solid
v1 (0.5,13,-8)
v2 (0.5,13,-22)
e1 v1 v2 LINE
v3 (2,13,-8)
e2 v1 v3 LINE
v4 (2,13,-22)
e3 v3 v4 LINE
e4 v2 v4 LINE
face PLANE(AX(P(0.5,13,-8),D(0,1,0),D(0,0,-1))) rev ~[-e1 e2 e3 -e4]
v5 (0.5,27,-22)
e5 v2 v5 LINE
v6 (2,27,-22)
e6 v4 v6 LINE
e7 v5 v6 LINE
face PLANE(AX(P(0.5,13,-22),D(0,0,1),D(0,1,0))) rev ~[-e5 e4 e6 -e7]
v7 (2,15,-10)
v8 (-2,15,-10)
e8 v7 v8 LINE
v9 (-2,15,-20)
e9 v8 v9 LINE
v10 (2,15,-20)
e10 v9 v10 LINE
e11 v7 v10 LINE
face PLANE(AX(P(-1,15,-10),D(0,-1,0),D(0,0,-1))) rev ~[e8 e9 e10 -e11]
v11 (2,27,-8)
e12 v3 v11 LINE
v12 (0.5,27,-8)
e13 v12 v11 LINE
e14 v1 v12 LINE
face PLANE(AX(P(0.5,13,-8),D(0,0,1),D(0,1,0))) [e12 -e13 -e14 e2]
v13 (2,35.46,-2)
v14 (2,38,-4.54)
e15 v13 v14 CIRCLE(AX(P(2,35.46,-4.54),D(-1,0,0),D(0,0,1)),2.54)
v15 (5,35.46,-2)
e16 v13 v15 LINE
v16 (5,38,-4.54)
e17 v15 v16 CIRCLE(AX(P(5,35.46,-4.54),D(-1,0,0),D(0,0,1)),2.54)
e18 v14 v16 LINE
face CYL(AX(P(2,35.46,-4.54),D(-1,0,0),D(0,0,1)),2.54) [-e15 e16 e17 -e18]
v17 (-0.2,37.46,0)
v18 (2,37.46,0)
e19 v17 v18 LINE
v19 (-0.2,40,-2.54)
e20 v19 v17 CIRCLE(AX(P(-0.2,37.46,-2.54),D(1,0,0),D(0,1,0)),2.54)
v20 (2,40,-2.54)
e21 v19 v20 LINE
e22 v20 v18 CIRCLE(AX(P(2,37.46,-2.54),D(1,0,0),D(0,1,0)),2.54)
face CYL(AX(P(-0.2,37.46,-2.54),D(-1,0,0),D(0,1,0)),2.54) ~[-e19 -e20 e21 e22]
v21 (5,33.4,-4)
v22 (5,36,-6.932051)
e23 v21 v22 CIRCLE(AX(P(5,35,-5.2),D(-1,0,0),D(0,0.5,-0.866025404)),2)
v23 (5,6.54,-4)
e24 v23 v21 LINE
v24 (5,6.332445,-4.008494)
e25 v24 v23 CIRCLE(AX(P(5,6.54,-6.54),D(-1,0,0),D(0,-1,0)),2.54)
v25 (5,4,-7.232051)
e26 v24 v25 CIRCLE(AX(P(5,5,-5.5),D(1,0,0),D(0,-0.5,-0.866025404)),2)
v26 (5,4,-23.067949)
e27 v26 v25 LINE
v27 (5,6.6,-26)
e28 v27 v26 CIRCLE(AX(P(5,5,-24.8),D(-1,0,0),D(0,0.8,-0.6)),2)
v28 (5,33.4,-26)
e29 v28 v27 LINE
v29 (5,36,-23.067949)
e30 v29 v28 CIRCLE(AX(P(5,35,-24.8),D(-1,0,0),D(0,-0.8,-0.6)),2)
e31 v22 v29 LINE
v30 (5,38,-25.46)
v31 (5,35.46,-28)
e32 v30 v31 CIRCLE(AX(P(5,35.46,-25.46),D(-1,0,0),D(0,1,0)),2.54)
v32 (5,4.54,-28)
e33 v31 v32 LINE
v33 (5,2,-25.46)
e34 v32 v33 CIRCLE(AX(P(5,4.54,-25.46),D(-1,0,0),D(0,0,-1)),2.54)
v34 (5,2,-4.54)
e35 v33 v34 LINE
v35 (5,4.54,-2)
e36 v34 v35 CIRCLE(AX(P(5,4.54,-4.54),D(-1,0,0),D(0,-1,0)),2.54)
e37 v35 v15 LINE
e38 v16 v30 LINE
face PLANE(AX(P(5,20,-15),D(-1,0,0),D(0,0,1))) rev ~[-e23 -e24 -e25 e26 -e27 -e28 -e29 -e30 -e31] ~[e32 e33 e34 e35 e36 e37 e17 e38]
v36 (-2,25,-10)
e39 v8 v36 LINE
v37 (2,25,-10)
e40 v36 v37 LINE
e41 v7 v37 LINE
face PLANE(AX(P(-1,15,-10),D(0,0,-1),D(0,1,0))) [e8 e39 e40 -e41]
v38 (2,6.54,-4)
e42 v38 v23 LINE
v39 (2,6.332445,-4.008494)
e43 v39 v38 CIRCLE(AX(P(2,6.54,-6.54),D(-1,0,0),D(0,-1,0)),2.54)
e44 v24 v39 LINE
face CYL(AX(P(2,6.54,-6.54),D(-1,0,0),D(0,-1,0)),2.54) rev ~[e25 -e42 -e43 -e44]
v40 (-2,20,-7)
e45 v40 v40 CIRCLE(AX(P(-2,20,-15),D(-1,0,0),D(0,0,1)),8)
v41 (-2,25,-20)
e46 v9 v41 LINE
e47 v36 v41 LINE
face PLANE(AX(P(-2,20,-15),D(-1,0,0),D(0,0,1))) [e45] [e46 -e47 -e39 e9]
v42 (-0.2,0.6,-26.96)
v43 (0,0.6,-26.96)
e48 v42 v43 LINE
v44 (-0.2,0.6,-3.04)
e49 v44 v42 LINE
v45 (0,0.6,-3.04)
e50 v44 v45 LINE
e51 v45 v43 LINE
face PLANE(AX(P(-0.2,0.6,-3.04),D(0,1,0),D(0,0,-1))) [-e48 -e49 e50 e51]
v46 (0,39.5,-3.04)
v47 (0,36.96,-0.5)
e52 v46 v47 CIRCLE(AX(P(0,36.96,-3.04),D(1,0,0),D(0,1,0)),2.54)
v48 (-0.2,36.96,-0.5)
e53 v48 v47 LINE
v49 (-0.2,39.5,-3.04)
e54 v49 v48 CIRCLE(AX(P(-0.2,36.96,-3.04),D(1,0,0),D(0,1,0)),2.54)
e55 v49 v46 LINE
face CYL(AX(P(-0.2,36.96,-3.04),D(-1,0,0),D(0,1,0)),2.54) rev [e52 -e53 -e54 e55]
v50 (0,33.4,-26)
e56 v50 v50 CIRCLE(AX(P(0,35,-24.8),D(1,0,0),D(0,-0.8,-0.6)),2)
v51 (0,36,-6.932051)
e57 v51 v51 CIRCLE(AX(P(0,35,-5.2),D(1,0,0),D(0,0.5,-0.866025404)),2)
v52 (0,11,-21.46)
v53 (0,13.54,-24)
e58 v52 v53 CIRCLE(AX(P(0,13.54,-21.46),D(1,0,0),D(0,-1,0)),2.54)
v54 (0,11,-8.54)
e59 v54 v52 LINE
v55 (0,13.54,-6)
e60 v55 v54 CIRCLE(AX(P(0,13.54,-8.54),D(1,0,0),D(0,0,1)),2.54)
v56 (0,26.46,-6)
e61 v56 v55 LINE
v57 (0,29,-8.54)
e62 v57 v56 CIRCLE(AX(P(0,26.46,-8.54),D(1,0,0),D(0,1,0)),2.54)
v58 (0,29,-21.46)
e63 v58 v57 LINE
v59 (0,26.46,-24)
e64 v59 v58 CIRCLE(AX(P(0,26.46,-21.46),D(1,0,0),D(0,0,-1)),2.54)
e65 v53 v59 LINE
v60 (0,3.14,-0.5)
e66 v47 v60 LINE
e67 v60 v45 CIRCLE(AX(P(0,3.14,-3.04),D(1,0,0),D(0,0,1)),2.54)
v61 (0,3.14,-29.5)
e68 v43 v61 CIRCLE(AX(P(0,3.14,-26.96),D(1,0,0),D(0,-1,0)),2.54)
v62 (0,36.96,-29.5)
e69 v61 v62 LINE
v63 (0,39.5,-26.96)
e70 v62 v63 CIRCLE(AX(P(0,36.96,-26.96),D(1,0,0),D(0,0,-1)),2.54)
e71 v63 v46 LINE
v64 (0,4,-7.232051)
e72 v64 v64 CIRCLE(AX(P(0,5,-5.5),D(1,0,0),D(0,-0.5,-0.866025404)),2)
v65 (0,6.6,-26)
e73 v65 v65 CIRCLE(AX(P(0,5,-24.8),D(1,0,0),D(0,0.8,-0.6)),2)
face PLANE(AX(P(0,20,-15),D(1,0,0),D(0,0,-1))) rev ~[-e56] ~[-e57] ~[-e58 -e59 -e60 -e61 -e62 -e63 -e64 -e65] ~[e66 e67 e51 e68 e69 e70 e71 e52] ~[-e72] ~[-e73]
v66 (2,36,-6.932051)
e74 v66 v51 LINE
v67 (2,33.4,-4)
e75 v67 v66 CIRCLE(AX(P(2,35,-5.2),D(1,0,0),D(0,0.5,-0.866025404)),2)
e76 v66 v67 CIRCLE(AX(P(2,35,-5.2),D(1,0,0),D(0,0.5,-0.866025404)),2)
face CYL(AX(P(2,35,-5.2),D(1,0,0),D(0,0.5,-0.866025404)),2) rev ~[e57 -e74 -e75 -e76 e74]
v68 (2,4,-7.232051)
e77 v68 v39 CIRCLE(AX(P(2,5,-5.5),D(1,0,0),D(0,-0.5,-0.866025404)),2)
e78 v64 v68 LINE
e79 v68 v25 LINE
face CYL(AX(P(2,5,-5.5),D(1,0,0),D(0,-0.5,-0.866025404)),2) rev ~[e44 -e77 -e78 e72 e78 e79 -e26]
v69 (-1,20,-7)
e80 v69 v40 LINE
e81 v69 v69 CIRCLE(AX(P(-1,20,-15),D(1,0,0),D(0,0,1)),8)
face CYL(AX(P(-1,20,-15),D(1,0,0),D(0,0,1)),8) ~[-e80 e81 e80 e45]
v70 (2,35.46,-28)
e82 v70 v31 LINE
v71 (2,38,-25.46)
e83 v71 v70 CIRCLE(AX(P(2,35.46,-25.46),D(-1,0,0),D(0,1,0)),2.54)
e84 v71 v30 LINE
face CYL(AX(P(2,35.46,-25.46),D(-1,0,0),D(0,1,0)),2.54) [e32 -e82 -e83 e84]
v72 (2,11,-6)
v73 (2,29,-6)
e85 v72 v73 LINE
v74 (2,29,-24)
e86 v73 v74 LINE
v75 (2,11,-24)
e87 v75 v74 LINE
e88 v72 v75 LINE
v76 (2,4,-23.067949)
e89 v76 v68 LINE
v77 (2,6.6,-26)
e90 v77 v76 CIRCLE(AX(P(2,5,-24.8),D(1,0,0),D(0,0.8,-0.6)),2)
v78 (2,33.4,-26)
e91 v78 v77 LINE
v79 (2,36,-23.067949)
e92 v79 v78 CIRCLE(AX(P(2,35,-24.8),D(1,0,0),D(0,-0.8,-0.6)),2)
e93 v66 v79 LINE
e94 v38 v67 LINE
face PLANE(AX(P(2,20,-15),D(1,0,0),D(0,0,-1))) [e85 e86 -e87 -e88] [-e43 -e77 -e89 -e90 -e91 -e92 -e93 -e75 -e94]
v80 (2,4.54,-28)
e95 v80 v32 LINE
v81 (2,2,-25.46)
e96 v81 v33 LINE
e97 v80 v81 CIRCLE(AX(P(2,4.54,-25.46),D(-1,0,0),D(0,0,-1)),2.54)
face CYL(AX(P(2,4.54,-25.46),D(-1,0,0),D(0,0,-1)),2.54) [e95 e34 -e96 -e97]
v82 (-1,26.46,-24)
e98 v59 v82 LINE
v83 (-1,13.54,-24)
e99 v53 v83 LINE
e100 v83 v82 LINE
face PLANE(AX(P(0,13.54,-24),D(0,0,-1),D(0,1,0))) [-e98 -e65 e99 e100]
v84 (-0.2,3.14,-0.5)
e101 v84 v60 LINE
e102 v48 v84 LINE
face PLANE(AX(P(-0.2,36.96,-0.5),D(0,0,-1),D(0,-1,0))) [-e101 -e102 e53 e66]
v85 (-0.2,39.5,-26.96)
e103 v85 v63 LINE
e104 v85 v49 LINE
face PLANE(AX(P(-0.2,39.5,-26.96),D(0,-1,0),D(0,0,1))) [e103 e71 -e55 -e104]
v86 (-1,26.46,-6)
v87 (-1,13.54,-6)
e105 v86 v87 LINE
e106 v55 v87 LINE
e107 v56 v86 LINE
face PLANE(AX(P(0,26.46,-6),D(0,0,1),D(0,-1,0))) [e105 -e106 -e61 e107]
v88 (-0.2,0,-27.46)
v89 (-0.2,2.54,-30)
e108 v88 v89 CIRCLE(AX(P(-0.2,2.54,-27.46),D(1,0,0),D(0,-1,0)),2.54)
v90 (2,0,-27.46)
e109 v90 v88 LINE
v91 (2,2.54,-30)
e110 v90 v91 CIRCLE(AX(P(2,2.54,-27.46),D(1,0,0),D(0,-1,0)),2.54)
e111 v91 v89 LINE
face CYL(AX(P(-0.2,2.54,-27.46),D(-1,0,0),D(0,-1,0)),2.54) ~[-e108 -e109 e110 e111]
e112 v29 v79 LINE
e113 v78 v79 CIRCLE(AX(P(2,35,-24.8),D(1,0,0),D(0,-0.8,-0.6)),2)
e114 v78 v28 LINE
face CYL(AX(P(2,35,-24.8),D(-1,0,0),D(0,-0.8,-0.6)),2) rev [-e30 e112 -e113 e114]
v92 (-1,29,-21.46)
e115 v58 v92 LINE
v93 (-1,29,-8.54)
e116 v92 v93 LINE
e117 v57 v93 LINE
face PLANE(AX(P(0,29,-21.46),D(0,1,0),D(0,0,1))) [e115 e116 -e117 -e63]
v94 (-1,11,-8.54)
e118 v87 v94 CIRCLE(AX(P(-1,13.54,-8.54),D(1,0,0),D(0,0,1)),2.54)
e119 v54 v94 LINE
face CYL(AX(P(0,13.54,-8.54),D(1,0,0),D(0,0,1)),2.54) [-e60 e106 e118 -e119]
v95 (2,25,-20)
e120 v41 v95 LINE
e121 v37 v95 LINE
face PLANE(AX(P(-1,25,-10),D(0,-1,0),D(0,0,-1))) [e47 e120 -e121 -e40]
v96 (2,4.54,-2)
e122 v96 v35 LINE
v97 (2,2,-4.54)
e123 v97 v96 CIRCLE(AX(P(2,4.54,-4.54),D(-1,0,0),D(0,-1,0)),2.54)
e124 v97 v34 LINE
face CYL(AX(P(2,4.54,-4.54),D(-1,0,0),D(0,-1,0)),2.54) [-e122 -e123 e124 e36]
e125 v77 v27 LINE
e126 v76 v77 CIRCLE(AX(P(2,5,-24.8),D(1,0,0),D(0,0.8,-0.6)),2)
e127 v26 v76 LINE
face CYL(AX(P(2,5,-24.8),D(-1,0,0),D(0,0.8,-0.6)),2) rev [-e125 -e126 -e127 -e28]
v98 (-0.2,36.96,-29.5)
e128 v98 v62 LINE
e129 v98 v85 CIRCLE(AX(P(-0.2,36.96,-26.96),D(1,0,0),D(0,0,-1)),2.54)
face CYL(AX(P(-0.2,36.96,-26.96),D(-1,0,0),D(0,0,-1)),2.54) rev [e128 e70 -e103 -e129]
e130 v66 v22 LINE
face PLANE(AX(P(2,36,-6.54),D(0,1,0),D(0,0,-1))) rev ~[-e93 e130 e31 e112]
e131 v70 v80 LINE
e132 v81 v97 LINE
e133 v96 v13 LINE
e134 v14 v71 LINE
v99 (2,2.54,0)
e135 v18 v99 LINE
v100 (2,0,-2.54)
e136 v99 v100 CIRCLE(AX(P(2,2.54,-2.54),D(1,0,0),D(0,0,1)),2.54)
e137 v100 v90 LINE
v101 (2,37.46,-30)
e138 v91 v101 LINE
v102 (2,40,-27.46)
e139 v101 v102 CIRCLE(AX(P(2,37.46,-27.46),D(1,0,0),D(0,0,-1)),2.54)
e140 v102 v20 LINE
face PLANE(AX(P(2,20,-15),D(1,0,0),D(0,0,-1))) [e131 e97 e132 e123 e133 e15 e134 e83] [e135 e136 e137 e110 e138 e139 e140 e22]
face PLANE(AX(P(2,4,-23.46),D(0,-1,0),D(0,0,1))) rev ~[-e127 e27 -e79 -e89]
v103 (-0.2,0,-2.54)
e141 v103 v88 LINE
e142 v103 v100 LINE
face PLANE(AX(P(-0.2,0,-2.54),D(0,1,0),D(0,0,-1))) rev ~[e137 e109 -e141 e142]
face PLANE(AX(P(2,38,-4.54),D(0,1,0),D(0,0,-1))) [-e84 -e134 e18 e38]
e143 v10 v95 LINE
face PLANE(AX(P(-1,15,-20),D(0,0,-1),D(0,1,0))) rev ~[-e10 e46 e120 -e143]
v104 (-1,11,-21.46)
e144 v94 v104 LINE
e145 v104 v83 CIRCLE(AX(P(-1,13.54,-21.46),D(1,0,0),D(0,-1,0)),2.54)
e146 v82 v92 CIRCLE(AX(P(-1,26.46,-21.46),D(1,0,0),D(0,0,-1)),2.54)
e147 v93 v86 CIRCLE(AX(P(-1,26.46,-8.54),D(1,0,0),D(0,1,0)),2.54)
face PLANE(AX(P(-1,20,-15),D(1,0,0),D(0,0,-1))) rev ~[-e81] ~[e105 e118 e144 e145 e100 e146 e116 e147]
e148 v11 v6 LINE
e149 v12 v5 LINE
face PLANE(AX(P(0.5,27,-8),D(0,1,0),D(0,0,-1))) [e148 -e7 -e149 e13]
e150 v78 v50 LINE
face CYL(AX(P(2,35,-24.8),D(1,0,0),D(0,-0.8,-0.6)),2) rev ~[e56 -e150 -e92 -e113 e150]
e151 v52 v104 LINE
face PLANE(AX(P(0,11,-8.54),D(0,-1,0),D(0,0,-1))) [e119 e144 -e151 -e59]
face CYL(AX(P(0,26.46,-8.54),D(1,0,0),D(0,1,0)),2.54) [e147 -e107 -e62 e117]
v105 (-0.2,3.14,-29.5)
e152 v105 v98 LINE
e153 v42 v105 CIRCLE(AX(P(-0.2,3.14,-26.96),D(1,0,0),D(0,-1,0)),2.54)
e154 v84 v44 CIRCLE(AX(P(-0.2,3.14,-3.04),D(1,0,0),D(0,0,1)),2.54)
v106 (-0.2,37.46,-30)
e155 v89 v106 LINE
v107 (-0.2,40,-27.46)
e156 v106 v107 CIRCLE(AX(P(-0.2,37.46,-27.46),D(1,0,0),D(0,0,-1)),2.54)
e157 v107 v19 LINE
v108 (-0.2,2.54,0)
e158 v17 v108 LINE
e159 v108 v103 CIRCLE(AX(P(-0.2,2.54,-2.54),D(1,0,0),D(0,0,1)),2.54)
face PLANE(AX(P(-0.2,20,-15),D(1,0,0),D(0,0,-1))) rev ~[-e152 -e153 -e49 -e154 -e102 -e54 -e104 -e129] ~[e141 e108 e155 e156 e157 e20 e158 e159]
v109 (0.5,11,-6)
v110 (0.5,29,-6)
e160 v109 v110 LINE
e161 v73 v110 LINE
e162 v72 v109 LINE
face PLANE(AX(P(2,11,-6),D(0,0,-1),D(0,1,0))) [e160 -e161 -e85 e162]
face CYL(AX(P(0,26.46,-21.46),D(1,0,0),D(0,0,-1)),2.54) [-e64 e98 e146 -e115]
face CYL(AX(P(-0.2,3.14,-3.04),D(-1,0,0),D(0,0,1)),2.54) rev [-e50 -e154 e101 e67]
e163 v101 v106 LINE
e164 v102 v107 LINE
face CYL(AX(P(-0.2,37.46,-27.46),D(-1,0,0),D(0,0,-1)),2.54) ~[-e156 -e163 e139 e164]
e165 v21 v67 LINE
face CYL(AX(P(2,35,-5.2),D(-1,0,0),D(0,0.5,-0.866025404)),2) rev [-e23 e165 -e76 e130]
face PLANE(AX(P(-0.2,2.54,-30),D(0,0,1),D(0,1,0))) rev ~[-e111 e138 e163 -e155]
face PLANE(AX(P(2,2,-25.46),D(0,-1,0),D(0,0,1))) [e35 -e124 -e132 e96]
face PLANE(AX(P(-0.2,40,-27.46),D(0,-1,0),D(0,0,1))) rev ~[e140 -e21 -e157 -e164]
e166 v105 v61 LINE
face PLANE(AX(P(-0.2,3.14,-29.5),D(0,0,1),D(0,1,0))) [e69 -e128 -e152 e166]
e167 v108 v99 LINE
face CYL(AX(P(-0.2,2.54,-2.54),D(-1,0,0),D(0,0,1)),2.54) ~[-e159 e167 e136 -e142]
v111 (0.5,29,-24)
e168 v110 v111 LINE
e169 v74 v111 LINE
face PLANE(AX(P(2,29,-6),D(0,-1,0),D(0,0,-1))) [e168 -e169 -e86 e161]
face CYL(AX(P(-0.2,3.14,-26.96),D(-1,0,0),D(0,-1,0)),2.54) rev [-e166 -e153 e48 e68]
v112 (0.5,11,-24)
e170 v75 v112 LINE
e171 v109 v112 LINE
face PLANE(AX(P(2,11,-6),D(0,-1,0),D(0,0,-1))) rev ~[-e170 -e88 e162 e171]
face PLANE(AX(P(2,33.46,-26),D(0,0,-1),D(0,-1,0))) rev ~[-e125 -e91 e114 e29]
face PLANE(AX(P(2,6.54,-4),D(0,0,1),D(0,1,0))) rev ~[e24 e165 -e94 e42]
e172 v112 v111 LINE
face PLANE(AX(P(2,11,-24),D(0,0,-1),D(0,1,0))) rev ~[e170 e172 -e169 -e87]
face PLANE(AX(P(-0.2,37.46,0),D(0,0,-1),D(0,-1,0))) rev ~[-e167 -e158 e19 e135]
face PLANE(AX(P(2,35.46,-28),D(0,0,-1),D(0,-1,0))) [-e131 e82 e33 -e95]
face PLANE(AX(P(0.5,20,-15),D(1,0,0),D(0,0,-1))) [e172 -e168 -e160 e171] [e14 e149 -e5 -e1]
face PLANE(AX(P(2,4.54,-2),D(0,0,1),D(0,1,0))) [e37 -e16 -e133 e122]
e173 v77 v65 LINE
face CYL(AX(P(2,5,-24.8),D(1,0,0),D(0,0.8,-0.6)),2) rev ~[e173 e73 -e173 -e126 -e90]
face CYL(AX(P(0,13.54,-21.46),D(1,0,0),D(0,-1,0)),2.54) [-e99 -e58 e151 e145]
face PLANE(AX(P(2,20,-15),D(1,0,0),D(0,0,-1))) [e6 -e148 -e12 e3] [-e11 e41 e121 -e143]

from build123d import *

# Parameters (mm, degrees)
BOSS_EXTRUDE2_DEPTH  = 2
SKETCH3_W            = 6
SKETCH3_H            = 6
CUT_EXTRUDE1_DEPTH   = 2
SKETCH4_R            = 5
BOSS_EXTRUDE3_DEPTH  = 1.5
SKETCH5_W            = 12
SKETCH5_H            = 12
BOSS_EXTRUDE4_DEPTH  = 1
SKETCH6_W            = 6
SKETCH6_H            = 6
CUT_EXTRUDE2_DEPTH   = 10
SKETCH7_W            = 16
SKETCH7_H            = 16
BOSS_EXTRUDE5_DEPTH  = 1
SKETCH9_R            = 6
BOSS_EXTRUDE6_DEPTH  = 1
SKETCH10_W           = 6
SKETCH10_H           = 6
CUT_EXTRUDE3_DEPTH   = 10
BOSS_EXTRUDE7_DEPTH  = 3
CUT_EXTRUDE4_DEPTH   = 1
SKETCH13_W           = 14
SKETCH13_H           = 14
SKETCH13_W_2         = 10
SKETCH13_H_2         = 10
CUT_EXTRUDE5_DEPTH   = 1.5
BOSS_EXTRUDE8_DEPTH  = 3
SKETCH16_R           = 7
BOSS_EXTRUDE9_DEPTH  = 1
SKETCH17_W           = 6
SKETCH17_H           = 6
CUT_EXTRUDE7_DEPTH   = 4
SKETCH18_W           = 8
SKETCH18_H           = 8
CUT_EXTRUDE8_DEPTH   = 10
SKETCH19_W           = 12
SKETCH19_H           = 12
SKETCH19_W_2         = 8
SKETCH19_H_2         = 8
BOSS_EXTRUDE10_DEPTH = 1.5
SKETCH20_W           = 16
SKETCH20_H           = 16
SKETCH20_W_2         = 12
SKETCH20_H_2         = 12
CUT_EXTRUDE9_DEPTH   = 1.5
SKETCH23_W           = 10
SKETCH23_H           = 10
SKETCH23_W_2         = 8
SKETCH23_H_2         = 8
CUT_EXTRUDE15_DEPTH  = 10
SKETCH24_R           = 8
BOSS_EXTRUDE11_DEPTH = 1
SKETCH25_W           = 10
SKETCH25_H           = 10
CUT_EXTRUDE16_DEPTH  = 1
BOSS_EXTRUDE12_DEPTH = 1
SKETCH27_W           = 10
SKETCH27_H           = 10
CUT_EXTRUDE17_DEPTH  = 1
SKETCH28_W           = 14
SKETCH28_H           = 14
SKETCH28_W_2         = 12
SKETCH28_H_2         = 12
BOSS_EXTRUDE13_DEPTH = 1.5
SKETCH29_W           = 18
SKETCH29_H           = 18
SKETCH29_W_2         = 16
SKETCH29_H_2         = 16
CUT_EXTRUDE18_DEPTH  = 1.5
BOSS_EXTRUDE14_START = 0.2
BOSS_EXTRUDE14_DEPTH = 0.2
SKETCH31_R           = 2
CUT_EXTRUDE19_DEPTH  = 7.826


with BuildPart() as part:
    # Sketch2 → Boss-Extrude2 (new body)
    with BuildSketch(Plane(origin=(0, 0, 0), x_dir=(0, 0, -1), z_dir=(1, 0, 0))):
        with BuildLine():
            Line((2.54, 0), (27.46, 0))
            ThreePointArc((27.46, 0), (29.256051224, 0.743948776), (30, 2.54))
            Line((30, 2.54), (30, 37.46))
            ThreePointArc((30, 37.46), (29.256051224, 39.256051224), (27.46, 40))
            Line((27.46, 40), (2.54, 40))
            ThreePointArc((2.54, 40), (0.743948776, 39.256051224), (0, 37.46))
            Line((0, 37.46), (0, 2.54))
            ThreePointArc((0, 2.54), (0.743948776, 0.743948776), (2.54, 0))
        make_face()
    extrude(amount=BOSS_EXTRUDE2_DEPTH)

    # Sketch3 → Cut-Extrude1 (cut)
    with BuildSketch(Plane.ZY):
        with Locations((-15, 20)):
            Rectangle(SKETCH3_W, SKETCH3_H)
    extrude(amount=-CUT_EXTRUDE1_DEPTH, mode=Mode.SUBTRACT)

    # Sketch4 → Boss-Extrude3 (add)
    with BuildSketch(Plane.ZY):
        with Locations((-15, 20)):
            Circle(SKETCH4_R)
    extrude(amount=BOSS_EXTRUDE3_DEPTH)

    # Sketch5 → Boss-Extrude4 (add)
    with BuildSketch(Plane.ZY):
        with Locations((-15, 20)):
            Rectangle(SKETCH5_W, SKETCH5_H)
    extrude(amount=BOSS_EXTRUDE4_DEPTH)

    # Sketch6 → Cut-Extrude2 (cut)
    with BuildSketch(Plane(origin=(2, 0, 0), x_dir=(0, 0, -1), z_dir=(1, 0, 0))):
        with Locations((15, 20)):
            Rectangle(SKETCH6_W, SKETCH6_H)
    extrude(amount=-CUT_EXTRUDE2_DEPTH, mode=Mode.SUBTRACT)

    # Sketch7 → Boss-Extrude5 (add)
    with BuildSketch(Plane.ZY):
        with Locations((-15, 20)):
            Rectangle(SKETCH7_W, SKETCH7_H)
    extrude(amount=BOSS_EXTRUDE5_DEPTH)

    # Sketch9 → Boss-Extrude6 (add)
    with BuildSketch(Plane.ZY.offset(1)):
        with Locations(Location((-15, 20, 0), (0, 0, 180))):
            Circle(SKETCH9_R)
    extrude(amount=BOSS_EXTRUDE6_DEPTH)

    # Sketch10 → Cut-Extrude3 (cut)
    with BuildSketch(Plane(origin=(0, 0, 0), x_dir=(0, 0, -1), z_dir=(1, 0, 0))):
        with Locations((15, 20)):
            Rectangle(SKETCH10_W, SKETCH10_H)
    extrude(amount=-CUT_EXTRUDE3_DEPTH, mode=Mode.SUBTRACT)

    # Sketch11 → Boss-Extrude7 (add)
    with BuildSketch(Plane(origin=(2, 0, 0), x_dir=(0, 0, -1), z_dir=(1, 0, 0))):
        with BuildLine():
            Line((4.54, 38), (25.46, 38))
            ThreePointArc((25.46, 38), (27.256051224, 37.256051224), (28, 35.46))
            Line((28, 35.46), (28, 4.54))
            ThreePointArc((28, 4.54), (27.256051224, 2.743948776), (25.46, 2))
            Line((25.46, 2), (4.54, 2))
            ThreePointArc((4.54, 2), (2.743948776, 2.743948776), (2, 4.54))
            Line((2, 4.54), (2, 35.46))
            ThreePointArc((2, 35.46), (2.743948776, 37.256051224), (4.54, 38))
        make_face()
        with BuildLine():
            Line((6.54, 36), (23.46, 36))
            ThreePointArc((23.46, 36), (25.256051224, 35.256051224), (26, 33.46))
            Line((26, 33.46), (26, 6.54))
            ThreePointArc((26, 6.54), (25.256051224, 4.743948776), (23.46, 4))
            Line((23.46, 4), (6.54, 4))
            ThreePointArc((6.54, 4), (4.743948776, 4.743948776), (4, 6.54))
            Line((4, 6.54), (4, 33.46))
            ThreePointArc((4, 33.46), (4.743948776, 35.256051224), (6.54, 36))
        make_face(mode=Mode.SUBTRACT)
    extrude(amount=BOSS_EXTRUDE7_DEPTH)

    # Sketch12 → Cut-Extrude4 (cut)
    with BuildSketch(Plane.ZY.offset(1)):
        with BuildLine():
            Line((-23, 28), (-20.46, 28))
            ThreePointArc((-20.46, 28), (-22.256051224, 27.256051224), (-23, 25.46))
            Line((-23, 25.46), (-23, 28))
        make_face()
        with BuildLine():
            Line((-7, 28), (-7, 25.46))
            ThreePointArc((-7, 25.46), (-7.743948776, 27.256051224), (-9.54, 28))
            Line((-9.54, 28), (-7, 28))
        make_face()
        with BuildLine():
            Line((-7, 12), (-9.54, 12))
            ThreePointArc((-9.54, 12), (-7.743948776, 12.743948776), (-7, 14.54))
            Line((-7, 14.54), (-7, 12))
        make_face()
        with BuildLine():
            Line((-23, 12), (-23, 14.54))
            ThreePointArc((-23, 14.54), (-22.256051224, 12.743948776), (-20.46, 12))
            Line((-20.46, 12), (-23, 12))
        make_face()
    extrude(amount=-CUT_EXTRUDE4_DEPTH, mode=Mode.SUBTRACT)

    # Sketch13 → Cut-Extrude5 (cut)
    with BuildSketch(Plane(origin=(2, 0, 0), x_dir=(0, 0, -1), z_dir=(1, 0, 0))):
        with Locations((15, 20)):
            Rectangle(SKETCH13_W, SKETCH13_H)
        with Locations((15, 20)):
            Rectangle(SKETCH13_W_2, SKETCH13_H_2, mode=Mode.SUBTRACT)
    extrude(amount=-CUT_EXTRUDE5_DEPTH, mode=Mode.SUBTRACT)

    # Sketch14 → Boss-Extrude8 (add)
    with BuildSketch(Plane.ZY.offset(2)):
        with BuildLine():
            Line((-17.46, 25), (-12.54, 25))
            ThreePointArc((-12.54, 25), (-10.743948776, 24.256051224), (-10, 22.46))
            Line((-10, 22.46), (-10, 17.54))
            ThreePointArc((-10, 17.54), (-10.743948776, 15.743948776), (-12.54, 15))
            Line((-12.54, 15), (-17.46, 15))
            ThreePointArc((-17.46, 15), (-19.256051224, 15.743948776), (-20, 17.54))
            Line((-20, 17.54), (-20, 22.46))
            ThreePointArc((-20, 22.46), (-19.256051224, 24.256051224), (-17.46, 25))
        make_face()
    extrude(amount=-BOSS_EXTRUDE8_DEPTH)

    # Sketch16 → Boss-Extrude9 (add)
    with BuildSketch(Plane.ZY.offset(2)):
        with Locations((-15, 20)):
            Circle(SKETCH16_R)
    extrude(amount=-BOSS_EXTRUDE9_DEPTH)

    # Sketch17 → Cut-Extrude7 (cut)
    with BuildSketch(Plane(origin=(1, 0, 0), x_dir=(0, 0, -1), z_dir=(1, 0, 0))):
        with Locations((15, 20)):
            Rectangle(SKETCH17_W, SKETCH17_H)
    extrude(amount=-CUT_EXTRUDE7_DEPTH, mode=Mode.SUBTRACT)

    # Sketch18 → Cut-Extrude8 (cut)
    with BuildSketch(Plane.ZY.offset(2)):
        with Locations((-15, 20)):
            Rectangle(SKETCH18_W, SKETCH18_H)
    extrude(amount=-CUT_EXTRUDE8_DEPTH, mode=Mode.SUBTRACT)

    # Sketch19 → Boss-Extrude10 (add)
    with BuildSketch(Plane(origin=(0.5, 0, 0), x_dir=(0, 0, -1), z_dir=(1, 0, 0))):
        with Locations((15, 20)):
            Rectangle(SKETCH19_W, SKETCH19_H)
        with Locations((15, 20)):
            Rectangle(SKETCH19_W_2, SKETCH19_H_2, mode=Mode.SUBTRACT)
    extrude(amount=BOSS_EXTRUDE10_DEPTH)

    # Sketch20 → Cut-Extrude9 (cut)
    with BuildSketch(Plane(origin=(2, 0, 0), x_dir=(0, 0, -1), z_dir=(1, 0, 0))):
        with Locations((15, 20)):
            Rectangle(SKETCH20_W, SKETCH20_H)
        with Locations((15, 20)):
            Rectangle(SKETCH20_W_2, SKETCH20_H_2, mode=Mode.SUBTRACT)
    extrude(amount=-CUT_EXTRUDE9_DEPTH, mode=Mode.SUBTRACT)

    # Sketch23 → Cut-Extrude15 (cut)
    with BuildSketch(Plane(origin=(2, 0, 0), x_dir=(0, 0, -1), z_dir=(1, 0, 0))):
        with Locations((15, 20)):
            Rectangle(SKETCH23_W, SKETCH23_H)
        with Locations((15, 20)):
            Rectangle(SKETCH23_W_2, SKETCH23_H_2, mode=Mode.SUBTRACT)
    extrude(amount=-CUT_EXTRUDE15_DEPTH, mode=Mode.SUBTRACT)

    # Sketch24 → Boss-Extrude11 (add)
    with BuildSketch(Plane.ZY.offset(1)):
        with Locations((-15, 20)):
            Circle(SKETCH24_R)
    extrude(amount=BOSS_EXTRUDE11_DEPTH)

    # Sketch25 → Cut-Extrude16 (cut)
    with BuildSketch(Plane(origin=(-1, 0, 0), x_dir=(0, 0, -1), z_dir=(1, 0, 0))):
        with Locations((15, 20)):
            Rectangle(SKETCH25_W, SKETCH25_H)
    extrude(amount=-CUT_EXTRUDE16_DEPTH, mode=Mode.SUBTRACT)

    # Sketch26 → Boss-Extrude12 (add)
    with BuildSketch(Plane.ZY):
        with BuildLine():
            Line((-21.46, 29), (-8.54, 29))
            ThreePointArc((-8.54, 29), (-6.743948776, 28.256051224), (-6, 26.46))
            Line((-6, 26.46), (-6, 13.54))
            ThreePointArc((-6, 13.54), (-6.743948776, 11.743948776), (-8.54, 11))
            Line((-8.54, 11), (-21.46, 11))
            ThreePointArc((-21.46, 11), (-23.256051224, 11.743948776), (-24, 13.54))
            Line((-24, 13.54), (-24, 26.46))
            ThreePointArc((-24, 26.46), (-23.256051224, 28.256051224), (-21.46, 29))
        make_face()
    extrude(amount=BOSS_EXTRUDE12_DEPTH)

    # Sketch27 → Cut-Extrude17 (cut)
    with BuildSketch(Plane(origin=(0, 0, 0), x_dir=(0, 0, -1), z_dir=(1, 0, 0))):
        with Locations((15, 20)):
            Rectangle(SKETCH27_W, SKETCH27_H)
    extrude(amount=-CUT_EXTRUDE17_DEPTH, mode=Mode.SUBTRACT)

    # Sketch28 → Boss-Extrude13 (add)
    with BuildSketch(Plane(origin=(0.5, 0, 0), x_dir=(0, 0, -1), z_dir=(1, 0, 0))):
        with Locations((15, 20)):
            Rectangle(SKETCH28_W, SKETCH28_H)
        with Locations((15, 20)):
            Rectangle(SKETCH28_W_2, SKETCH28_H_2, mode=Mode.SUBTRACT)
    extrude(amount=BOSS_EXTRUDE13_DEPTH)

    # Sketch29 → Cut-Extrude18 (cut)
    with BuildSketch(Plane(origin=(2, 0, 0), x_dir=(0, 0, -1), z_dir=(1, 0, 0))):
        with Locations((15, 20)):
            Rectangle(SKETCH29_W, SKETCH29_H)
        with Locations((15, 20)):
            Rectangle(SKETCH29_W_2, SKETCH29_H_2, mode=Mode.SUBTRACT)
    extrude(amount=-CUT_EXTRUDE18_DEPTH, mode=Mode.SUBTRACT)

    # Sketch30 → Boss-Extrude14 (add)
    with BuildSketch(Plane.ZY.offset(BOSS_EXTRUDE14_START)):
        with BuildLine():
            Line((-27.46, 40), (-2.54, 40))
            ThreePointArc((-2.54, 40), (-0.743948776, 39.256051224), (0, 37.46))
            Line((0, 37.46), (0, 2.54))
            ThreePointArc((0, 2.54), (-0.743948776, 0.743948776), (-2.54, 0))
            Line((-2.54, 0), (-27.46, 0))
            ThreePointArc((-27.46, 0), (-29.256051224, 0.743948776), (-30, 2.54))
            Line((-30, 2.54), (-30, 37.46))
            ThreePointArc((-30, 37.46), (-29.256051224, 39.256051224), (-27.46, 40))
        make_face()
        with BuildLine():
            Line((-26.96, 39.5), (-3.04, 39.5))
            ThreePointArc((-3.04, 39.5), (-1.243948776, 38.756051224), (-0.5, 36.96))
            Line((-0.5, 36.96), (-0.5, 3.14))
            ThreePointArc((-0.5, 3.14), (-1.243948776, 1.343948776), (-3.04, 0.6))
            Line((-3.04, 0.6), (-26.96, 0.6))
            ThreePointArc((-26.96, 0.6), (-28.756051224, 1.343948776), (-29.5, 3.14))
            Line((-29.5, 3.14), (-29.5, 36.96))
            ThreePointArc((-29.5, 36.96), (-28.756051224, 38.756051224), (-26.96, 39.5))
        make_face(mode=Mode.SUBTRACT)
    extrude(amount=-BOSS_EXTRUDE14_DEPTH)

    # Sketch31 → Cut-Extrude19 (cut, symmetric)
    with BuildSketch(Plane(origin=(2, 0, 0), x_dir=(0, 0, -1), z_dir=(1, 0, 0))):
        with Locations(Location((5.2, 35, 0), (0, 0, 30))):
            Circle(SKETCH31_R)
        with Locations(Location((24.8, 35, 0), (0, 0, 306.869897646))):
            Circle(SKETCH31_R)
        with Locations(Location((24.8, 5, 0), (0, 0, 53.130102354))):
            Circle(SKETCH31_R)
        with Locations(Location((5.5, 5, 0), (0, 0, 330))):
            Circle(SKETCH31_R)
    extrude(amount=CUT_EXTRUDE19_DEPTH, both=True, mode=Mode.SUBTRACT)


solid = part.part
